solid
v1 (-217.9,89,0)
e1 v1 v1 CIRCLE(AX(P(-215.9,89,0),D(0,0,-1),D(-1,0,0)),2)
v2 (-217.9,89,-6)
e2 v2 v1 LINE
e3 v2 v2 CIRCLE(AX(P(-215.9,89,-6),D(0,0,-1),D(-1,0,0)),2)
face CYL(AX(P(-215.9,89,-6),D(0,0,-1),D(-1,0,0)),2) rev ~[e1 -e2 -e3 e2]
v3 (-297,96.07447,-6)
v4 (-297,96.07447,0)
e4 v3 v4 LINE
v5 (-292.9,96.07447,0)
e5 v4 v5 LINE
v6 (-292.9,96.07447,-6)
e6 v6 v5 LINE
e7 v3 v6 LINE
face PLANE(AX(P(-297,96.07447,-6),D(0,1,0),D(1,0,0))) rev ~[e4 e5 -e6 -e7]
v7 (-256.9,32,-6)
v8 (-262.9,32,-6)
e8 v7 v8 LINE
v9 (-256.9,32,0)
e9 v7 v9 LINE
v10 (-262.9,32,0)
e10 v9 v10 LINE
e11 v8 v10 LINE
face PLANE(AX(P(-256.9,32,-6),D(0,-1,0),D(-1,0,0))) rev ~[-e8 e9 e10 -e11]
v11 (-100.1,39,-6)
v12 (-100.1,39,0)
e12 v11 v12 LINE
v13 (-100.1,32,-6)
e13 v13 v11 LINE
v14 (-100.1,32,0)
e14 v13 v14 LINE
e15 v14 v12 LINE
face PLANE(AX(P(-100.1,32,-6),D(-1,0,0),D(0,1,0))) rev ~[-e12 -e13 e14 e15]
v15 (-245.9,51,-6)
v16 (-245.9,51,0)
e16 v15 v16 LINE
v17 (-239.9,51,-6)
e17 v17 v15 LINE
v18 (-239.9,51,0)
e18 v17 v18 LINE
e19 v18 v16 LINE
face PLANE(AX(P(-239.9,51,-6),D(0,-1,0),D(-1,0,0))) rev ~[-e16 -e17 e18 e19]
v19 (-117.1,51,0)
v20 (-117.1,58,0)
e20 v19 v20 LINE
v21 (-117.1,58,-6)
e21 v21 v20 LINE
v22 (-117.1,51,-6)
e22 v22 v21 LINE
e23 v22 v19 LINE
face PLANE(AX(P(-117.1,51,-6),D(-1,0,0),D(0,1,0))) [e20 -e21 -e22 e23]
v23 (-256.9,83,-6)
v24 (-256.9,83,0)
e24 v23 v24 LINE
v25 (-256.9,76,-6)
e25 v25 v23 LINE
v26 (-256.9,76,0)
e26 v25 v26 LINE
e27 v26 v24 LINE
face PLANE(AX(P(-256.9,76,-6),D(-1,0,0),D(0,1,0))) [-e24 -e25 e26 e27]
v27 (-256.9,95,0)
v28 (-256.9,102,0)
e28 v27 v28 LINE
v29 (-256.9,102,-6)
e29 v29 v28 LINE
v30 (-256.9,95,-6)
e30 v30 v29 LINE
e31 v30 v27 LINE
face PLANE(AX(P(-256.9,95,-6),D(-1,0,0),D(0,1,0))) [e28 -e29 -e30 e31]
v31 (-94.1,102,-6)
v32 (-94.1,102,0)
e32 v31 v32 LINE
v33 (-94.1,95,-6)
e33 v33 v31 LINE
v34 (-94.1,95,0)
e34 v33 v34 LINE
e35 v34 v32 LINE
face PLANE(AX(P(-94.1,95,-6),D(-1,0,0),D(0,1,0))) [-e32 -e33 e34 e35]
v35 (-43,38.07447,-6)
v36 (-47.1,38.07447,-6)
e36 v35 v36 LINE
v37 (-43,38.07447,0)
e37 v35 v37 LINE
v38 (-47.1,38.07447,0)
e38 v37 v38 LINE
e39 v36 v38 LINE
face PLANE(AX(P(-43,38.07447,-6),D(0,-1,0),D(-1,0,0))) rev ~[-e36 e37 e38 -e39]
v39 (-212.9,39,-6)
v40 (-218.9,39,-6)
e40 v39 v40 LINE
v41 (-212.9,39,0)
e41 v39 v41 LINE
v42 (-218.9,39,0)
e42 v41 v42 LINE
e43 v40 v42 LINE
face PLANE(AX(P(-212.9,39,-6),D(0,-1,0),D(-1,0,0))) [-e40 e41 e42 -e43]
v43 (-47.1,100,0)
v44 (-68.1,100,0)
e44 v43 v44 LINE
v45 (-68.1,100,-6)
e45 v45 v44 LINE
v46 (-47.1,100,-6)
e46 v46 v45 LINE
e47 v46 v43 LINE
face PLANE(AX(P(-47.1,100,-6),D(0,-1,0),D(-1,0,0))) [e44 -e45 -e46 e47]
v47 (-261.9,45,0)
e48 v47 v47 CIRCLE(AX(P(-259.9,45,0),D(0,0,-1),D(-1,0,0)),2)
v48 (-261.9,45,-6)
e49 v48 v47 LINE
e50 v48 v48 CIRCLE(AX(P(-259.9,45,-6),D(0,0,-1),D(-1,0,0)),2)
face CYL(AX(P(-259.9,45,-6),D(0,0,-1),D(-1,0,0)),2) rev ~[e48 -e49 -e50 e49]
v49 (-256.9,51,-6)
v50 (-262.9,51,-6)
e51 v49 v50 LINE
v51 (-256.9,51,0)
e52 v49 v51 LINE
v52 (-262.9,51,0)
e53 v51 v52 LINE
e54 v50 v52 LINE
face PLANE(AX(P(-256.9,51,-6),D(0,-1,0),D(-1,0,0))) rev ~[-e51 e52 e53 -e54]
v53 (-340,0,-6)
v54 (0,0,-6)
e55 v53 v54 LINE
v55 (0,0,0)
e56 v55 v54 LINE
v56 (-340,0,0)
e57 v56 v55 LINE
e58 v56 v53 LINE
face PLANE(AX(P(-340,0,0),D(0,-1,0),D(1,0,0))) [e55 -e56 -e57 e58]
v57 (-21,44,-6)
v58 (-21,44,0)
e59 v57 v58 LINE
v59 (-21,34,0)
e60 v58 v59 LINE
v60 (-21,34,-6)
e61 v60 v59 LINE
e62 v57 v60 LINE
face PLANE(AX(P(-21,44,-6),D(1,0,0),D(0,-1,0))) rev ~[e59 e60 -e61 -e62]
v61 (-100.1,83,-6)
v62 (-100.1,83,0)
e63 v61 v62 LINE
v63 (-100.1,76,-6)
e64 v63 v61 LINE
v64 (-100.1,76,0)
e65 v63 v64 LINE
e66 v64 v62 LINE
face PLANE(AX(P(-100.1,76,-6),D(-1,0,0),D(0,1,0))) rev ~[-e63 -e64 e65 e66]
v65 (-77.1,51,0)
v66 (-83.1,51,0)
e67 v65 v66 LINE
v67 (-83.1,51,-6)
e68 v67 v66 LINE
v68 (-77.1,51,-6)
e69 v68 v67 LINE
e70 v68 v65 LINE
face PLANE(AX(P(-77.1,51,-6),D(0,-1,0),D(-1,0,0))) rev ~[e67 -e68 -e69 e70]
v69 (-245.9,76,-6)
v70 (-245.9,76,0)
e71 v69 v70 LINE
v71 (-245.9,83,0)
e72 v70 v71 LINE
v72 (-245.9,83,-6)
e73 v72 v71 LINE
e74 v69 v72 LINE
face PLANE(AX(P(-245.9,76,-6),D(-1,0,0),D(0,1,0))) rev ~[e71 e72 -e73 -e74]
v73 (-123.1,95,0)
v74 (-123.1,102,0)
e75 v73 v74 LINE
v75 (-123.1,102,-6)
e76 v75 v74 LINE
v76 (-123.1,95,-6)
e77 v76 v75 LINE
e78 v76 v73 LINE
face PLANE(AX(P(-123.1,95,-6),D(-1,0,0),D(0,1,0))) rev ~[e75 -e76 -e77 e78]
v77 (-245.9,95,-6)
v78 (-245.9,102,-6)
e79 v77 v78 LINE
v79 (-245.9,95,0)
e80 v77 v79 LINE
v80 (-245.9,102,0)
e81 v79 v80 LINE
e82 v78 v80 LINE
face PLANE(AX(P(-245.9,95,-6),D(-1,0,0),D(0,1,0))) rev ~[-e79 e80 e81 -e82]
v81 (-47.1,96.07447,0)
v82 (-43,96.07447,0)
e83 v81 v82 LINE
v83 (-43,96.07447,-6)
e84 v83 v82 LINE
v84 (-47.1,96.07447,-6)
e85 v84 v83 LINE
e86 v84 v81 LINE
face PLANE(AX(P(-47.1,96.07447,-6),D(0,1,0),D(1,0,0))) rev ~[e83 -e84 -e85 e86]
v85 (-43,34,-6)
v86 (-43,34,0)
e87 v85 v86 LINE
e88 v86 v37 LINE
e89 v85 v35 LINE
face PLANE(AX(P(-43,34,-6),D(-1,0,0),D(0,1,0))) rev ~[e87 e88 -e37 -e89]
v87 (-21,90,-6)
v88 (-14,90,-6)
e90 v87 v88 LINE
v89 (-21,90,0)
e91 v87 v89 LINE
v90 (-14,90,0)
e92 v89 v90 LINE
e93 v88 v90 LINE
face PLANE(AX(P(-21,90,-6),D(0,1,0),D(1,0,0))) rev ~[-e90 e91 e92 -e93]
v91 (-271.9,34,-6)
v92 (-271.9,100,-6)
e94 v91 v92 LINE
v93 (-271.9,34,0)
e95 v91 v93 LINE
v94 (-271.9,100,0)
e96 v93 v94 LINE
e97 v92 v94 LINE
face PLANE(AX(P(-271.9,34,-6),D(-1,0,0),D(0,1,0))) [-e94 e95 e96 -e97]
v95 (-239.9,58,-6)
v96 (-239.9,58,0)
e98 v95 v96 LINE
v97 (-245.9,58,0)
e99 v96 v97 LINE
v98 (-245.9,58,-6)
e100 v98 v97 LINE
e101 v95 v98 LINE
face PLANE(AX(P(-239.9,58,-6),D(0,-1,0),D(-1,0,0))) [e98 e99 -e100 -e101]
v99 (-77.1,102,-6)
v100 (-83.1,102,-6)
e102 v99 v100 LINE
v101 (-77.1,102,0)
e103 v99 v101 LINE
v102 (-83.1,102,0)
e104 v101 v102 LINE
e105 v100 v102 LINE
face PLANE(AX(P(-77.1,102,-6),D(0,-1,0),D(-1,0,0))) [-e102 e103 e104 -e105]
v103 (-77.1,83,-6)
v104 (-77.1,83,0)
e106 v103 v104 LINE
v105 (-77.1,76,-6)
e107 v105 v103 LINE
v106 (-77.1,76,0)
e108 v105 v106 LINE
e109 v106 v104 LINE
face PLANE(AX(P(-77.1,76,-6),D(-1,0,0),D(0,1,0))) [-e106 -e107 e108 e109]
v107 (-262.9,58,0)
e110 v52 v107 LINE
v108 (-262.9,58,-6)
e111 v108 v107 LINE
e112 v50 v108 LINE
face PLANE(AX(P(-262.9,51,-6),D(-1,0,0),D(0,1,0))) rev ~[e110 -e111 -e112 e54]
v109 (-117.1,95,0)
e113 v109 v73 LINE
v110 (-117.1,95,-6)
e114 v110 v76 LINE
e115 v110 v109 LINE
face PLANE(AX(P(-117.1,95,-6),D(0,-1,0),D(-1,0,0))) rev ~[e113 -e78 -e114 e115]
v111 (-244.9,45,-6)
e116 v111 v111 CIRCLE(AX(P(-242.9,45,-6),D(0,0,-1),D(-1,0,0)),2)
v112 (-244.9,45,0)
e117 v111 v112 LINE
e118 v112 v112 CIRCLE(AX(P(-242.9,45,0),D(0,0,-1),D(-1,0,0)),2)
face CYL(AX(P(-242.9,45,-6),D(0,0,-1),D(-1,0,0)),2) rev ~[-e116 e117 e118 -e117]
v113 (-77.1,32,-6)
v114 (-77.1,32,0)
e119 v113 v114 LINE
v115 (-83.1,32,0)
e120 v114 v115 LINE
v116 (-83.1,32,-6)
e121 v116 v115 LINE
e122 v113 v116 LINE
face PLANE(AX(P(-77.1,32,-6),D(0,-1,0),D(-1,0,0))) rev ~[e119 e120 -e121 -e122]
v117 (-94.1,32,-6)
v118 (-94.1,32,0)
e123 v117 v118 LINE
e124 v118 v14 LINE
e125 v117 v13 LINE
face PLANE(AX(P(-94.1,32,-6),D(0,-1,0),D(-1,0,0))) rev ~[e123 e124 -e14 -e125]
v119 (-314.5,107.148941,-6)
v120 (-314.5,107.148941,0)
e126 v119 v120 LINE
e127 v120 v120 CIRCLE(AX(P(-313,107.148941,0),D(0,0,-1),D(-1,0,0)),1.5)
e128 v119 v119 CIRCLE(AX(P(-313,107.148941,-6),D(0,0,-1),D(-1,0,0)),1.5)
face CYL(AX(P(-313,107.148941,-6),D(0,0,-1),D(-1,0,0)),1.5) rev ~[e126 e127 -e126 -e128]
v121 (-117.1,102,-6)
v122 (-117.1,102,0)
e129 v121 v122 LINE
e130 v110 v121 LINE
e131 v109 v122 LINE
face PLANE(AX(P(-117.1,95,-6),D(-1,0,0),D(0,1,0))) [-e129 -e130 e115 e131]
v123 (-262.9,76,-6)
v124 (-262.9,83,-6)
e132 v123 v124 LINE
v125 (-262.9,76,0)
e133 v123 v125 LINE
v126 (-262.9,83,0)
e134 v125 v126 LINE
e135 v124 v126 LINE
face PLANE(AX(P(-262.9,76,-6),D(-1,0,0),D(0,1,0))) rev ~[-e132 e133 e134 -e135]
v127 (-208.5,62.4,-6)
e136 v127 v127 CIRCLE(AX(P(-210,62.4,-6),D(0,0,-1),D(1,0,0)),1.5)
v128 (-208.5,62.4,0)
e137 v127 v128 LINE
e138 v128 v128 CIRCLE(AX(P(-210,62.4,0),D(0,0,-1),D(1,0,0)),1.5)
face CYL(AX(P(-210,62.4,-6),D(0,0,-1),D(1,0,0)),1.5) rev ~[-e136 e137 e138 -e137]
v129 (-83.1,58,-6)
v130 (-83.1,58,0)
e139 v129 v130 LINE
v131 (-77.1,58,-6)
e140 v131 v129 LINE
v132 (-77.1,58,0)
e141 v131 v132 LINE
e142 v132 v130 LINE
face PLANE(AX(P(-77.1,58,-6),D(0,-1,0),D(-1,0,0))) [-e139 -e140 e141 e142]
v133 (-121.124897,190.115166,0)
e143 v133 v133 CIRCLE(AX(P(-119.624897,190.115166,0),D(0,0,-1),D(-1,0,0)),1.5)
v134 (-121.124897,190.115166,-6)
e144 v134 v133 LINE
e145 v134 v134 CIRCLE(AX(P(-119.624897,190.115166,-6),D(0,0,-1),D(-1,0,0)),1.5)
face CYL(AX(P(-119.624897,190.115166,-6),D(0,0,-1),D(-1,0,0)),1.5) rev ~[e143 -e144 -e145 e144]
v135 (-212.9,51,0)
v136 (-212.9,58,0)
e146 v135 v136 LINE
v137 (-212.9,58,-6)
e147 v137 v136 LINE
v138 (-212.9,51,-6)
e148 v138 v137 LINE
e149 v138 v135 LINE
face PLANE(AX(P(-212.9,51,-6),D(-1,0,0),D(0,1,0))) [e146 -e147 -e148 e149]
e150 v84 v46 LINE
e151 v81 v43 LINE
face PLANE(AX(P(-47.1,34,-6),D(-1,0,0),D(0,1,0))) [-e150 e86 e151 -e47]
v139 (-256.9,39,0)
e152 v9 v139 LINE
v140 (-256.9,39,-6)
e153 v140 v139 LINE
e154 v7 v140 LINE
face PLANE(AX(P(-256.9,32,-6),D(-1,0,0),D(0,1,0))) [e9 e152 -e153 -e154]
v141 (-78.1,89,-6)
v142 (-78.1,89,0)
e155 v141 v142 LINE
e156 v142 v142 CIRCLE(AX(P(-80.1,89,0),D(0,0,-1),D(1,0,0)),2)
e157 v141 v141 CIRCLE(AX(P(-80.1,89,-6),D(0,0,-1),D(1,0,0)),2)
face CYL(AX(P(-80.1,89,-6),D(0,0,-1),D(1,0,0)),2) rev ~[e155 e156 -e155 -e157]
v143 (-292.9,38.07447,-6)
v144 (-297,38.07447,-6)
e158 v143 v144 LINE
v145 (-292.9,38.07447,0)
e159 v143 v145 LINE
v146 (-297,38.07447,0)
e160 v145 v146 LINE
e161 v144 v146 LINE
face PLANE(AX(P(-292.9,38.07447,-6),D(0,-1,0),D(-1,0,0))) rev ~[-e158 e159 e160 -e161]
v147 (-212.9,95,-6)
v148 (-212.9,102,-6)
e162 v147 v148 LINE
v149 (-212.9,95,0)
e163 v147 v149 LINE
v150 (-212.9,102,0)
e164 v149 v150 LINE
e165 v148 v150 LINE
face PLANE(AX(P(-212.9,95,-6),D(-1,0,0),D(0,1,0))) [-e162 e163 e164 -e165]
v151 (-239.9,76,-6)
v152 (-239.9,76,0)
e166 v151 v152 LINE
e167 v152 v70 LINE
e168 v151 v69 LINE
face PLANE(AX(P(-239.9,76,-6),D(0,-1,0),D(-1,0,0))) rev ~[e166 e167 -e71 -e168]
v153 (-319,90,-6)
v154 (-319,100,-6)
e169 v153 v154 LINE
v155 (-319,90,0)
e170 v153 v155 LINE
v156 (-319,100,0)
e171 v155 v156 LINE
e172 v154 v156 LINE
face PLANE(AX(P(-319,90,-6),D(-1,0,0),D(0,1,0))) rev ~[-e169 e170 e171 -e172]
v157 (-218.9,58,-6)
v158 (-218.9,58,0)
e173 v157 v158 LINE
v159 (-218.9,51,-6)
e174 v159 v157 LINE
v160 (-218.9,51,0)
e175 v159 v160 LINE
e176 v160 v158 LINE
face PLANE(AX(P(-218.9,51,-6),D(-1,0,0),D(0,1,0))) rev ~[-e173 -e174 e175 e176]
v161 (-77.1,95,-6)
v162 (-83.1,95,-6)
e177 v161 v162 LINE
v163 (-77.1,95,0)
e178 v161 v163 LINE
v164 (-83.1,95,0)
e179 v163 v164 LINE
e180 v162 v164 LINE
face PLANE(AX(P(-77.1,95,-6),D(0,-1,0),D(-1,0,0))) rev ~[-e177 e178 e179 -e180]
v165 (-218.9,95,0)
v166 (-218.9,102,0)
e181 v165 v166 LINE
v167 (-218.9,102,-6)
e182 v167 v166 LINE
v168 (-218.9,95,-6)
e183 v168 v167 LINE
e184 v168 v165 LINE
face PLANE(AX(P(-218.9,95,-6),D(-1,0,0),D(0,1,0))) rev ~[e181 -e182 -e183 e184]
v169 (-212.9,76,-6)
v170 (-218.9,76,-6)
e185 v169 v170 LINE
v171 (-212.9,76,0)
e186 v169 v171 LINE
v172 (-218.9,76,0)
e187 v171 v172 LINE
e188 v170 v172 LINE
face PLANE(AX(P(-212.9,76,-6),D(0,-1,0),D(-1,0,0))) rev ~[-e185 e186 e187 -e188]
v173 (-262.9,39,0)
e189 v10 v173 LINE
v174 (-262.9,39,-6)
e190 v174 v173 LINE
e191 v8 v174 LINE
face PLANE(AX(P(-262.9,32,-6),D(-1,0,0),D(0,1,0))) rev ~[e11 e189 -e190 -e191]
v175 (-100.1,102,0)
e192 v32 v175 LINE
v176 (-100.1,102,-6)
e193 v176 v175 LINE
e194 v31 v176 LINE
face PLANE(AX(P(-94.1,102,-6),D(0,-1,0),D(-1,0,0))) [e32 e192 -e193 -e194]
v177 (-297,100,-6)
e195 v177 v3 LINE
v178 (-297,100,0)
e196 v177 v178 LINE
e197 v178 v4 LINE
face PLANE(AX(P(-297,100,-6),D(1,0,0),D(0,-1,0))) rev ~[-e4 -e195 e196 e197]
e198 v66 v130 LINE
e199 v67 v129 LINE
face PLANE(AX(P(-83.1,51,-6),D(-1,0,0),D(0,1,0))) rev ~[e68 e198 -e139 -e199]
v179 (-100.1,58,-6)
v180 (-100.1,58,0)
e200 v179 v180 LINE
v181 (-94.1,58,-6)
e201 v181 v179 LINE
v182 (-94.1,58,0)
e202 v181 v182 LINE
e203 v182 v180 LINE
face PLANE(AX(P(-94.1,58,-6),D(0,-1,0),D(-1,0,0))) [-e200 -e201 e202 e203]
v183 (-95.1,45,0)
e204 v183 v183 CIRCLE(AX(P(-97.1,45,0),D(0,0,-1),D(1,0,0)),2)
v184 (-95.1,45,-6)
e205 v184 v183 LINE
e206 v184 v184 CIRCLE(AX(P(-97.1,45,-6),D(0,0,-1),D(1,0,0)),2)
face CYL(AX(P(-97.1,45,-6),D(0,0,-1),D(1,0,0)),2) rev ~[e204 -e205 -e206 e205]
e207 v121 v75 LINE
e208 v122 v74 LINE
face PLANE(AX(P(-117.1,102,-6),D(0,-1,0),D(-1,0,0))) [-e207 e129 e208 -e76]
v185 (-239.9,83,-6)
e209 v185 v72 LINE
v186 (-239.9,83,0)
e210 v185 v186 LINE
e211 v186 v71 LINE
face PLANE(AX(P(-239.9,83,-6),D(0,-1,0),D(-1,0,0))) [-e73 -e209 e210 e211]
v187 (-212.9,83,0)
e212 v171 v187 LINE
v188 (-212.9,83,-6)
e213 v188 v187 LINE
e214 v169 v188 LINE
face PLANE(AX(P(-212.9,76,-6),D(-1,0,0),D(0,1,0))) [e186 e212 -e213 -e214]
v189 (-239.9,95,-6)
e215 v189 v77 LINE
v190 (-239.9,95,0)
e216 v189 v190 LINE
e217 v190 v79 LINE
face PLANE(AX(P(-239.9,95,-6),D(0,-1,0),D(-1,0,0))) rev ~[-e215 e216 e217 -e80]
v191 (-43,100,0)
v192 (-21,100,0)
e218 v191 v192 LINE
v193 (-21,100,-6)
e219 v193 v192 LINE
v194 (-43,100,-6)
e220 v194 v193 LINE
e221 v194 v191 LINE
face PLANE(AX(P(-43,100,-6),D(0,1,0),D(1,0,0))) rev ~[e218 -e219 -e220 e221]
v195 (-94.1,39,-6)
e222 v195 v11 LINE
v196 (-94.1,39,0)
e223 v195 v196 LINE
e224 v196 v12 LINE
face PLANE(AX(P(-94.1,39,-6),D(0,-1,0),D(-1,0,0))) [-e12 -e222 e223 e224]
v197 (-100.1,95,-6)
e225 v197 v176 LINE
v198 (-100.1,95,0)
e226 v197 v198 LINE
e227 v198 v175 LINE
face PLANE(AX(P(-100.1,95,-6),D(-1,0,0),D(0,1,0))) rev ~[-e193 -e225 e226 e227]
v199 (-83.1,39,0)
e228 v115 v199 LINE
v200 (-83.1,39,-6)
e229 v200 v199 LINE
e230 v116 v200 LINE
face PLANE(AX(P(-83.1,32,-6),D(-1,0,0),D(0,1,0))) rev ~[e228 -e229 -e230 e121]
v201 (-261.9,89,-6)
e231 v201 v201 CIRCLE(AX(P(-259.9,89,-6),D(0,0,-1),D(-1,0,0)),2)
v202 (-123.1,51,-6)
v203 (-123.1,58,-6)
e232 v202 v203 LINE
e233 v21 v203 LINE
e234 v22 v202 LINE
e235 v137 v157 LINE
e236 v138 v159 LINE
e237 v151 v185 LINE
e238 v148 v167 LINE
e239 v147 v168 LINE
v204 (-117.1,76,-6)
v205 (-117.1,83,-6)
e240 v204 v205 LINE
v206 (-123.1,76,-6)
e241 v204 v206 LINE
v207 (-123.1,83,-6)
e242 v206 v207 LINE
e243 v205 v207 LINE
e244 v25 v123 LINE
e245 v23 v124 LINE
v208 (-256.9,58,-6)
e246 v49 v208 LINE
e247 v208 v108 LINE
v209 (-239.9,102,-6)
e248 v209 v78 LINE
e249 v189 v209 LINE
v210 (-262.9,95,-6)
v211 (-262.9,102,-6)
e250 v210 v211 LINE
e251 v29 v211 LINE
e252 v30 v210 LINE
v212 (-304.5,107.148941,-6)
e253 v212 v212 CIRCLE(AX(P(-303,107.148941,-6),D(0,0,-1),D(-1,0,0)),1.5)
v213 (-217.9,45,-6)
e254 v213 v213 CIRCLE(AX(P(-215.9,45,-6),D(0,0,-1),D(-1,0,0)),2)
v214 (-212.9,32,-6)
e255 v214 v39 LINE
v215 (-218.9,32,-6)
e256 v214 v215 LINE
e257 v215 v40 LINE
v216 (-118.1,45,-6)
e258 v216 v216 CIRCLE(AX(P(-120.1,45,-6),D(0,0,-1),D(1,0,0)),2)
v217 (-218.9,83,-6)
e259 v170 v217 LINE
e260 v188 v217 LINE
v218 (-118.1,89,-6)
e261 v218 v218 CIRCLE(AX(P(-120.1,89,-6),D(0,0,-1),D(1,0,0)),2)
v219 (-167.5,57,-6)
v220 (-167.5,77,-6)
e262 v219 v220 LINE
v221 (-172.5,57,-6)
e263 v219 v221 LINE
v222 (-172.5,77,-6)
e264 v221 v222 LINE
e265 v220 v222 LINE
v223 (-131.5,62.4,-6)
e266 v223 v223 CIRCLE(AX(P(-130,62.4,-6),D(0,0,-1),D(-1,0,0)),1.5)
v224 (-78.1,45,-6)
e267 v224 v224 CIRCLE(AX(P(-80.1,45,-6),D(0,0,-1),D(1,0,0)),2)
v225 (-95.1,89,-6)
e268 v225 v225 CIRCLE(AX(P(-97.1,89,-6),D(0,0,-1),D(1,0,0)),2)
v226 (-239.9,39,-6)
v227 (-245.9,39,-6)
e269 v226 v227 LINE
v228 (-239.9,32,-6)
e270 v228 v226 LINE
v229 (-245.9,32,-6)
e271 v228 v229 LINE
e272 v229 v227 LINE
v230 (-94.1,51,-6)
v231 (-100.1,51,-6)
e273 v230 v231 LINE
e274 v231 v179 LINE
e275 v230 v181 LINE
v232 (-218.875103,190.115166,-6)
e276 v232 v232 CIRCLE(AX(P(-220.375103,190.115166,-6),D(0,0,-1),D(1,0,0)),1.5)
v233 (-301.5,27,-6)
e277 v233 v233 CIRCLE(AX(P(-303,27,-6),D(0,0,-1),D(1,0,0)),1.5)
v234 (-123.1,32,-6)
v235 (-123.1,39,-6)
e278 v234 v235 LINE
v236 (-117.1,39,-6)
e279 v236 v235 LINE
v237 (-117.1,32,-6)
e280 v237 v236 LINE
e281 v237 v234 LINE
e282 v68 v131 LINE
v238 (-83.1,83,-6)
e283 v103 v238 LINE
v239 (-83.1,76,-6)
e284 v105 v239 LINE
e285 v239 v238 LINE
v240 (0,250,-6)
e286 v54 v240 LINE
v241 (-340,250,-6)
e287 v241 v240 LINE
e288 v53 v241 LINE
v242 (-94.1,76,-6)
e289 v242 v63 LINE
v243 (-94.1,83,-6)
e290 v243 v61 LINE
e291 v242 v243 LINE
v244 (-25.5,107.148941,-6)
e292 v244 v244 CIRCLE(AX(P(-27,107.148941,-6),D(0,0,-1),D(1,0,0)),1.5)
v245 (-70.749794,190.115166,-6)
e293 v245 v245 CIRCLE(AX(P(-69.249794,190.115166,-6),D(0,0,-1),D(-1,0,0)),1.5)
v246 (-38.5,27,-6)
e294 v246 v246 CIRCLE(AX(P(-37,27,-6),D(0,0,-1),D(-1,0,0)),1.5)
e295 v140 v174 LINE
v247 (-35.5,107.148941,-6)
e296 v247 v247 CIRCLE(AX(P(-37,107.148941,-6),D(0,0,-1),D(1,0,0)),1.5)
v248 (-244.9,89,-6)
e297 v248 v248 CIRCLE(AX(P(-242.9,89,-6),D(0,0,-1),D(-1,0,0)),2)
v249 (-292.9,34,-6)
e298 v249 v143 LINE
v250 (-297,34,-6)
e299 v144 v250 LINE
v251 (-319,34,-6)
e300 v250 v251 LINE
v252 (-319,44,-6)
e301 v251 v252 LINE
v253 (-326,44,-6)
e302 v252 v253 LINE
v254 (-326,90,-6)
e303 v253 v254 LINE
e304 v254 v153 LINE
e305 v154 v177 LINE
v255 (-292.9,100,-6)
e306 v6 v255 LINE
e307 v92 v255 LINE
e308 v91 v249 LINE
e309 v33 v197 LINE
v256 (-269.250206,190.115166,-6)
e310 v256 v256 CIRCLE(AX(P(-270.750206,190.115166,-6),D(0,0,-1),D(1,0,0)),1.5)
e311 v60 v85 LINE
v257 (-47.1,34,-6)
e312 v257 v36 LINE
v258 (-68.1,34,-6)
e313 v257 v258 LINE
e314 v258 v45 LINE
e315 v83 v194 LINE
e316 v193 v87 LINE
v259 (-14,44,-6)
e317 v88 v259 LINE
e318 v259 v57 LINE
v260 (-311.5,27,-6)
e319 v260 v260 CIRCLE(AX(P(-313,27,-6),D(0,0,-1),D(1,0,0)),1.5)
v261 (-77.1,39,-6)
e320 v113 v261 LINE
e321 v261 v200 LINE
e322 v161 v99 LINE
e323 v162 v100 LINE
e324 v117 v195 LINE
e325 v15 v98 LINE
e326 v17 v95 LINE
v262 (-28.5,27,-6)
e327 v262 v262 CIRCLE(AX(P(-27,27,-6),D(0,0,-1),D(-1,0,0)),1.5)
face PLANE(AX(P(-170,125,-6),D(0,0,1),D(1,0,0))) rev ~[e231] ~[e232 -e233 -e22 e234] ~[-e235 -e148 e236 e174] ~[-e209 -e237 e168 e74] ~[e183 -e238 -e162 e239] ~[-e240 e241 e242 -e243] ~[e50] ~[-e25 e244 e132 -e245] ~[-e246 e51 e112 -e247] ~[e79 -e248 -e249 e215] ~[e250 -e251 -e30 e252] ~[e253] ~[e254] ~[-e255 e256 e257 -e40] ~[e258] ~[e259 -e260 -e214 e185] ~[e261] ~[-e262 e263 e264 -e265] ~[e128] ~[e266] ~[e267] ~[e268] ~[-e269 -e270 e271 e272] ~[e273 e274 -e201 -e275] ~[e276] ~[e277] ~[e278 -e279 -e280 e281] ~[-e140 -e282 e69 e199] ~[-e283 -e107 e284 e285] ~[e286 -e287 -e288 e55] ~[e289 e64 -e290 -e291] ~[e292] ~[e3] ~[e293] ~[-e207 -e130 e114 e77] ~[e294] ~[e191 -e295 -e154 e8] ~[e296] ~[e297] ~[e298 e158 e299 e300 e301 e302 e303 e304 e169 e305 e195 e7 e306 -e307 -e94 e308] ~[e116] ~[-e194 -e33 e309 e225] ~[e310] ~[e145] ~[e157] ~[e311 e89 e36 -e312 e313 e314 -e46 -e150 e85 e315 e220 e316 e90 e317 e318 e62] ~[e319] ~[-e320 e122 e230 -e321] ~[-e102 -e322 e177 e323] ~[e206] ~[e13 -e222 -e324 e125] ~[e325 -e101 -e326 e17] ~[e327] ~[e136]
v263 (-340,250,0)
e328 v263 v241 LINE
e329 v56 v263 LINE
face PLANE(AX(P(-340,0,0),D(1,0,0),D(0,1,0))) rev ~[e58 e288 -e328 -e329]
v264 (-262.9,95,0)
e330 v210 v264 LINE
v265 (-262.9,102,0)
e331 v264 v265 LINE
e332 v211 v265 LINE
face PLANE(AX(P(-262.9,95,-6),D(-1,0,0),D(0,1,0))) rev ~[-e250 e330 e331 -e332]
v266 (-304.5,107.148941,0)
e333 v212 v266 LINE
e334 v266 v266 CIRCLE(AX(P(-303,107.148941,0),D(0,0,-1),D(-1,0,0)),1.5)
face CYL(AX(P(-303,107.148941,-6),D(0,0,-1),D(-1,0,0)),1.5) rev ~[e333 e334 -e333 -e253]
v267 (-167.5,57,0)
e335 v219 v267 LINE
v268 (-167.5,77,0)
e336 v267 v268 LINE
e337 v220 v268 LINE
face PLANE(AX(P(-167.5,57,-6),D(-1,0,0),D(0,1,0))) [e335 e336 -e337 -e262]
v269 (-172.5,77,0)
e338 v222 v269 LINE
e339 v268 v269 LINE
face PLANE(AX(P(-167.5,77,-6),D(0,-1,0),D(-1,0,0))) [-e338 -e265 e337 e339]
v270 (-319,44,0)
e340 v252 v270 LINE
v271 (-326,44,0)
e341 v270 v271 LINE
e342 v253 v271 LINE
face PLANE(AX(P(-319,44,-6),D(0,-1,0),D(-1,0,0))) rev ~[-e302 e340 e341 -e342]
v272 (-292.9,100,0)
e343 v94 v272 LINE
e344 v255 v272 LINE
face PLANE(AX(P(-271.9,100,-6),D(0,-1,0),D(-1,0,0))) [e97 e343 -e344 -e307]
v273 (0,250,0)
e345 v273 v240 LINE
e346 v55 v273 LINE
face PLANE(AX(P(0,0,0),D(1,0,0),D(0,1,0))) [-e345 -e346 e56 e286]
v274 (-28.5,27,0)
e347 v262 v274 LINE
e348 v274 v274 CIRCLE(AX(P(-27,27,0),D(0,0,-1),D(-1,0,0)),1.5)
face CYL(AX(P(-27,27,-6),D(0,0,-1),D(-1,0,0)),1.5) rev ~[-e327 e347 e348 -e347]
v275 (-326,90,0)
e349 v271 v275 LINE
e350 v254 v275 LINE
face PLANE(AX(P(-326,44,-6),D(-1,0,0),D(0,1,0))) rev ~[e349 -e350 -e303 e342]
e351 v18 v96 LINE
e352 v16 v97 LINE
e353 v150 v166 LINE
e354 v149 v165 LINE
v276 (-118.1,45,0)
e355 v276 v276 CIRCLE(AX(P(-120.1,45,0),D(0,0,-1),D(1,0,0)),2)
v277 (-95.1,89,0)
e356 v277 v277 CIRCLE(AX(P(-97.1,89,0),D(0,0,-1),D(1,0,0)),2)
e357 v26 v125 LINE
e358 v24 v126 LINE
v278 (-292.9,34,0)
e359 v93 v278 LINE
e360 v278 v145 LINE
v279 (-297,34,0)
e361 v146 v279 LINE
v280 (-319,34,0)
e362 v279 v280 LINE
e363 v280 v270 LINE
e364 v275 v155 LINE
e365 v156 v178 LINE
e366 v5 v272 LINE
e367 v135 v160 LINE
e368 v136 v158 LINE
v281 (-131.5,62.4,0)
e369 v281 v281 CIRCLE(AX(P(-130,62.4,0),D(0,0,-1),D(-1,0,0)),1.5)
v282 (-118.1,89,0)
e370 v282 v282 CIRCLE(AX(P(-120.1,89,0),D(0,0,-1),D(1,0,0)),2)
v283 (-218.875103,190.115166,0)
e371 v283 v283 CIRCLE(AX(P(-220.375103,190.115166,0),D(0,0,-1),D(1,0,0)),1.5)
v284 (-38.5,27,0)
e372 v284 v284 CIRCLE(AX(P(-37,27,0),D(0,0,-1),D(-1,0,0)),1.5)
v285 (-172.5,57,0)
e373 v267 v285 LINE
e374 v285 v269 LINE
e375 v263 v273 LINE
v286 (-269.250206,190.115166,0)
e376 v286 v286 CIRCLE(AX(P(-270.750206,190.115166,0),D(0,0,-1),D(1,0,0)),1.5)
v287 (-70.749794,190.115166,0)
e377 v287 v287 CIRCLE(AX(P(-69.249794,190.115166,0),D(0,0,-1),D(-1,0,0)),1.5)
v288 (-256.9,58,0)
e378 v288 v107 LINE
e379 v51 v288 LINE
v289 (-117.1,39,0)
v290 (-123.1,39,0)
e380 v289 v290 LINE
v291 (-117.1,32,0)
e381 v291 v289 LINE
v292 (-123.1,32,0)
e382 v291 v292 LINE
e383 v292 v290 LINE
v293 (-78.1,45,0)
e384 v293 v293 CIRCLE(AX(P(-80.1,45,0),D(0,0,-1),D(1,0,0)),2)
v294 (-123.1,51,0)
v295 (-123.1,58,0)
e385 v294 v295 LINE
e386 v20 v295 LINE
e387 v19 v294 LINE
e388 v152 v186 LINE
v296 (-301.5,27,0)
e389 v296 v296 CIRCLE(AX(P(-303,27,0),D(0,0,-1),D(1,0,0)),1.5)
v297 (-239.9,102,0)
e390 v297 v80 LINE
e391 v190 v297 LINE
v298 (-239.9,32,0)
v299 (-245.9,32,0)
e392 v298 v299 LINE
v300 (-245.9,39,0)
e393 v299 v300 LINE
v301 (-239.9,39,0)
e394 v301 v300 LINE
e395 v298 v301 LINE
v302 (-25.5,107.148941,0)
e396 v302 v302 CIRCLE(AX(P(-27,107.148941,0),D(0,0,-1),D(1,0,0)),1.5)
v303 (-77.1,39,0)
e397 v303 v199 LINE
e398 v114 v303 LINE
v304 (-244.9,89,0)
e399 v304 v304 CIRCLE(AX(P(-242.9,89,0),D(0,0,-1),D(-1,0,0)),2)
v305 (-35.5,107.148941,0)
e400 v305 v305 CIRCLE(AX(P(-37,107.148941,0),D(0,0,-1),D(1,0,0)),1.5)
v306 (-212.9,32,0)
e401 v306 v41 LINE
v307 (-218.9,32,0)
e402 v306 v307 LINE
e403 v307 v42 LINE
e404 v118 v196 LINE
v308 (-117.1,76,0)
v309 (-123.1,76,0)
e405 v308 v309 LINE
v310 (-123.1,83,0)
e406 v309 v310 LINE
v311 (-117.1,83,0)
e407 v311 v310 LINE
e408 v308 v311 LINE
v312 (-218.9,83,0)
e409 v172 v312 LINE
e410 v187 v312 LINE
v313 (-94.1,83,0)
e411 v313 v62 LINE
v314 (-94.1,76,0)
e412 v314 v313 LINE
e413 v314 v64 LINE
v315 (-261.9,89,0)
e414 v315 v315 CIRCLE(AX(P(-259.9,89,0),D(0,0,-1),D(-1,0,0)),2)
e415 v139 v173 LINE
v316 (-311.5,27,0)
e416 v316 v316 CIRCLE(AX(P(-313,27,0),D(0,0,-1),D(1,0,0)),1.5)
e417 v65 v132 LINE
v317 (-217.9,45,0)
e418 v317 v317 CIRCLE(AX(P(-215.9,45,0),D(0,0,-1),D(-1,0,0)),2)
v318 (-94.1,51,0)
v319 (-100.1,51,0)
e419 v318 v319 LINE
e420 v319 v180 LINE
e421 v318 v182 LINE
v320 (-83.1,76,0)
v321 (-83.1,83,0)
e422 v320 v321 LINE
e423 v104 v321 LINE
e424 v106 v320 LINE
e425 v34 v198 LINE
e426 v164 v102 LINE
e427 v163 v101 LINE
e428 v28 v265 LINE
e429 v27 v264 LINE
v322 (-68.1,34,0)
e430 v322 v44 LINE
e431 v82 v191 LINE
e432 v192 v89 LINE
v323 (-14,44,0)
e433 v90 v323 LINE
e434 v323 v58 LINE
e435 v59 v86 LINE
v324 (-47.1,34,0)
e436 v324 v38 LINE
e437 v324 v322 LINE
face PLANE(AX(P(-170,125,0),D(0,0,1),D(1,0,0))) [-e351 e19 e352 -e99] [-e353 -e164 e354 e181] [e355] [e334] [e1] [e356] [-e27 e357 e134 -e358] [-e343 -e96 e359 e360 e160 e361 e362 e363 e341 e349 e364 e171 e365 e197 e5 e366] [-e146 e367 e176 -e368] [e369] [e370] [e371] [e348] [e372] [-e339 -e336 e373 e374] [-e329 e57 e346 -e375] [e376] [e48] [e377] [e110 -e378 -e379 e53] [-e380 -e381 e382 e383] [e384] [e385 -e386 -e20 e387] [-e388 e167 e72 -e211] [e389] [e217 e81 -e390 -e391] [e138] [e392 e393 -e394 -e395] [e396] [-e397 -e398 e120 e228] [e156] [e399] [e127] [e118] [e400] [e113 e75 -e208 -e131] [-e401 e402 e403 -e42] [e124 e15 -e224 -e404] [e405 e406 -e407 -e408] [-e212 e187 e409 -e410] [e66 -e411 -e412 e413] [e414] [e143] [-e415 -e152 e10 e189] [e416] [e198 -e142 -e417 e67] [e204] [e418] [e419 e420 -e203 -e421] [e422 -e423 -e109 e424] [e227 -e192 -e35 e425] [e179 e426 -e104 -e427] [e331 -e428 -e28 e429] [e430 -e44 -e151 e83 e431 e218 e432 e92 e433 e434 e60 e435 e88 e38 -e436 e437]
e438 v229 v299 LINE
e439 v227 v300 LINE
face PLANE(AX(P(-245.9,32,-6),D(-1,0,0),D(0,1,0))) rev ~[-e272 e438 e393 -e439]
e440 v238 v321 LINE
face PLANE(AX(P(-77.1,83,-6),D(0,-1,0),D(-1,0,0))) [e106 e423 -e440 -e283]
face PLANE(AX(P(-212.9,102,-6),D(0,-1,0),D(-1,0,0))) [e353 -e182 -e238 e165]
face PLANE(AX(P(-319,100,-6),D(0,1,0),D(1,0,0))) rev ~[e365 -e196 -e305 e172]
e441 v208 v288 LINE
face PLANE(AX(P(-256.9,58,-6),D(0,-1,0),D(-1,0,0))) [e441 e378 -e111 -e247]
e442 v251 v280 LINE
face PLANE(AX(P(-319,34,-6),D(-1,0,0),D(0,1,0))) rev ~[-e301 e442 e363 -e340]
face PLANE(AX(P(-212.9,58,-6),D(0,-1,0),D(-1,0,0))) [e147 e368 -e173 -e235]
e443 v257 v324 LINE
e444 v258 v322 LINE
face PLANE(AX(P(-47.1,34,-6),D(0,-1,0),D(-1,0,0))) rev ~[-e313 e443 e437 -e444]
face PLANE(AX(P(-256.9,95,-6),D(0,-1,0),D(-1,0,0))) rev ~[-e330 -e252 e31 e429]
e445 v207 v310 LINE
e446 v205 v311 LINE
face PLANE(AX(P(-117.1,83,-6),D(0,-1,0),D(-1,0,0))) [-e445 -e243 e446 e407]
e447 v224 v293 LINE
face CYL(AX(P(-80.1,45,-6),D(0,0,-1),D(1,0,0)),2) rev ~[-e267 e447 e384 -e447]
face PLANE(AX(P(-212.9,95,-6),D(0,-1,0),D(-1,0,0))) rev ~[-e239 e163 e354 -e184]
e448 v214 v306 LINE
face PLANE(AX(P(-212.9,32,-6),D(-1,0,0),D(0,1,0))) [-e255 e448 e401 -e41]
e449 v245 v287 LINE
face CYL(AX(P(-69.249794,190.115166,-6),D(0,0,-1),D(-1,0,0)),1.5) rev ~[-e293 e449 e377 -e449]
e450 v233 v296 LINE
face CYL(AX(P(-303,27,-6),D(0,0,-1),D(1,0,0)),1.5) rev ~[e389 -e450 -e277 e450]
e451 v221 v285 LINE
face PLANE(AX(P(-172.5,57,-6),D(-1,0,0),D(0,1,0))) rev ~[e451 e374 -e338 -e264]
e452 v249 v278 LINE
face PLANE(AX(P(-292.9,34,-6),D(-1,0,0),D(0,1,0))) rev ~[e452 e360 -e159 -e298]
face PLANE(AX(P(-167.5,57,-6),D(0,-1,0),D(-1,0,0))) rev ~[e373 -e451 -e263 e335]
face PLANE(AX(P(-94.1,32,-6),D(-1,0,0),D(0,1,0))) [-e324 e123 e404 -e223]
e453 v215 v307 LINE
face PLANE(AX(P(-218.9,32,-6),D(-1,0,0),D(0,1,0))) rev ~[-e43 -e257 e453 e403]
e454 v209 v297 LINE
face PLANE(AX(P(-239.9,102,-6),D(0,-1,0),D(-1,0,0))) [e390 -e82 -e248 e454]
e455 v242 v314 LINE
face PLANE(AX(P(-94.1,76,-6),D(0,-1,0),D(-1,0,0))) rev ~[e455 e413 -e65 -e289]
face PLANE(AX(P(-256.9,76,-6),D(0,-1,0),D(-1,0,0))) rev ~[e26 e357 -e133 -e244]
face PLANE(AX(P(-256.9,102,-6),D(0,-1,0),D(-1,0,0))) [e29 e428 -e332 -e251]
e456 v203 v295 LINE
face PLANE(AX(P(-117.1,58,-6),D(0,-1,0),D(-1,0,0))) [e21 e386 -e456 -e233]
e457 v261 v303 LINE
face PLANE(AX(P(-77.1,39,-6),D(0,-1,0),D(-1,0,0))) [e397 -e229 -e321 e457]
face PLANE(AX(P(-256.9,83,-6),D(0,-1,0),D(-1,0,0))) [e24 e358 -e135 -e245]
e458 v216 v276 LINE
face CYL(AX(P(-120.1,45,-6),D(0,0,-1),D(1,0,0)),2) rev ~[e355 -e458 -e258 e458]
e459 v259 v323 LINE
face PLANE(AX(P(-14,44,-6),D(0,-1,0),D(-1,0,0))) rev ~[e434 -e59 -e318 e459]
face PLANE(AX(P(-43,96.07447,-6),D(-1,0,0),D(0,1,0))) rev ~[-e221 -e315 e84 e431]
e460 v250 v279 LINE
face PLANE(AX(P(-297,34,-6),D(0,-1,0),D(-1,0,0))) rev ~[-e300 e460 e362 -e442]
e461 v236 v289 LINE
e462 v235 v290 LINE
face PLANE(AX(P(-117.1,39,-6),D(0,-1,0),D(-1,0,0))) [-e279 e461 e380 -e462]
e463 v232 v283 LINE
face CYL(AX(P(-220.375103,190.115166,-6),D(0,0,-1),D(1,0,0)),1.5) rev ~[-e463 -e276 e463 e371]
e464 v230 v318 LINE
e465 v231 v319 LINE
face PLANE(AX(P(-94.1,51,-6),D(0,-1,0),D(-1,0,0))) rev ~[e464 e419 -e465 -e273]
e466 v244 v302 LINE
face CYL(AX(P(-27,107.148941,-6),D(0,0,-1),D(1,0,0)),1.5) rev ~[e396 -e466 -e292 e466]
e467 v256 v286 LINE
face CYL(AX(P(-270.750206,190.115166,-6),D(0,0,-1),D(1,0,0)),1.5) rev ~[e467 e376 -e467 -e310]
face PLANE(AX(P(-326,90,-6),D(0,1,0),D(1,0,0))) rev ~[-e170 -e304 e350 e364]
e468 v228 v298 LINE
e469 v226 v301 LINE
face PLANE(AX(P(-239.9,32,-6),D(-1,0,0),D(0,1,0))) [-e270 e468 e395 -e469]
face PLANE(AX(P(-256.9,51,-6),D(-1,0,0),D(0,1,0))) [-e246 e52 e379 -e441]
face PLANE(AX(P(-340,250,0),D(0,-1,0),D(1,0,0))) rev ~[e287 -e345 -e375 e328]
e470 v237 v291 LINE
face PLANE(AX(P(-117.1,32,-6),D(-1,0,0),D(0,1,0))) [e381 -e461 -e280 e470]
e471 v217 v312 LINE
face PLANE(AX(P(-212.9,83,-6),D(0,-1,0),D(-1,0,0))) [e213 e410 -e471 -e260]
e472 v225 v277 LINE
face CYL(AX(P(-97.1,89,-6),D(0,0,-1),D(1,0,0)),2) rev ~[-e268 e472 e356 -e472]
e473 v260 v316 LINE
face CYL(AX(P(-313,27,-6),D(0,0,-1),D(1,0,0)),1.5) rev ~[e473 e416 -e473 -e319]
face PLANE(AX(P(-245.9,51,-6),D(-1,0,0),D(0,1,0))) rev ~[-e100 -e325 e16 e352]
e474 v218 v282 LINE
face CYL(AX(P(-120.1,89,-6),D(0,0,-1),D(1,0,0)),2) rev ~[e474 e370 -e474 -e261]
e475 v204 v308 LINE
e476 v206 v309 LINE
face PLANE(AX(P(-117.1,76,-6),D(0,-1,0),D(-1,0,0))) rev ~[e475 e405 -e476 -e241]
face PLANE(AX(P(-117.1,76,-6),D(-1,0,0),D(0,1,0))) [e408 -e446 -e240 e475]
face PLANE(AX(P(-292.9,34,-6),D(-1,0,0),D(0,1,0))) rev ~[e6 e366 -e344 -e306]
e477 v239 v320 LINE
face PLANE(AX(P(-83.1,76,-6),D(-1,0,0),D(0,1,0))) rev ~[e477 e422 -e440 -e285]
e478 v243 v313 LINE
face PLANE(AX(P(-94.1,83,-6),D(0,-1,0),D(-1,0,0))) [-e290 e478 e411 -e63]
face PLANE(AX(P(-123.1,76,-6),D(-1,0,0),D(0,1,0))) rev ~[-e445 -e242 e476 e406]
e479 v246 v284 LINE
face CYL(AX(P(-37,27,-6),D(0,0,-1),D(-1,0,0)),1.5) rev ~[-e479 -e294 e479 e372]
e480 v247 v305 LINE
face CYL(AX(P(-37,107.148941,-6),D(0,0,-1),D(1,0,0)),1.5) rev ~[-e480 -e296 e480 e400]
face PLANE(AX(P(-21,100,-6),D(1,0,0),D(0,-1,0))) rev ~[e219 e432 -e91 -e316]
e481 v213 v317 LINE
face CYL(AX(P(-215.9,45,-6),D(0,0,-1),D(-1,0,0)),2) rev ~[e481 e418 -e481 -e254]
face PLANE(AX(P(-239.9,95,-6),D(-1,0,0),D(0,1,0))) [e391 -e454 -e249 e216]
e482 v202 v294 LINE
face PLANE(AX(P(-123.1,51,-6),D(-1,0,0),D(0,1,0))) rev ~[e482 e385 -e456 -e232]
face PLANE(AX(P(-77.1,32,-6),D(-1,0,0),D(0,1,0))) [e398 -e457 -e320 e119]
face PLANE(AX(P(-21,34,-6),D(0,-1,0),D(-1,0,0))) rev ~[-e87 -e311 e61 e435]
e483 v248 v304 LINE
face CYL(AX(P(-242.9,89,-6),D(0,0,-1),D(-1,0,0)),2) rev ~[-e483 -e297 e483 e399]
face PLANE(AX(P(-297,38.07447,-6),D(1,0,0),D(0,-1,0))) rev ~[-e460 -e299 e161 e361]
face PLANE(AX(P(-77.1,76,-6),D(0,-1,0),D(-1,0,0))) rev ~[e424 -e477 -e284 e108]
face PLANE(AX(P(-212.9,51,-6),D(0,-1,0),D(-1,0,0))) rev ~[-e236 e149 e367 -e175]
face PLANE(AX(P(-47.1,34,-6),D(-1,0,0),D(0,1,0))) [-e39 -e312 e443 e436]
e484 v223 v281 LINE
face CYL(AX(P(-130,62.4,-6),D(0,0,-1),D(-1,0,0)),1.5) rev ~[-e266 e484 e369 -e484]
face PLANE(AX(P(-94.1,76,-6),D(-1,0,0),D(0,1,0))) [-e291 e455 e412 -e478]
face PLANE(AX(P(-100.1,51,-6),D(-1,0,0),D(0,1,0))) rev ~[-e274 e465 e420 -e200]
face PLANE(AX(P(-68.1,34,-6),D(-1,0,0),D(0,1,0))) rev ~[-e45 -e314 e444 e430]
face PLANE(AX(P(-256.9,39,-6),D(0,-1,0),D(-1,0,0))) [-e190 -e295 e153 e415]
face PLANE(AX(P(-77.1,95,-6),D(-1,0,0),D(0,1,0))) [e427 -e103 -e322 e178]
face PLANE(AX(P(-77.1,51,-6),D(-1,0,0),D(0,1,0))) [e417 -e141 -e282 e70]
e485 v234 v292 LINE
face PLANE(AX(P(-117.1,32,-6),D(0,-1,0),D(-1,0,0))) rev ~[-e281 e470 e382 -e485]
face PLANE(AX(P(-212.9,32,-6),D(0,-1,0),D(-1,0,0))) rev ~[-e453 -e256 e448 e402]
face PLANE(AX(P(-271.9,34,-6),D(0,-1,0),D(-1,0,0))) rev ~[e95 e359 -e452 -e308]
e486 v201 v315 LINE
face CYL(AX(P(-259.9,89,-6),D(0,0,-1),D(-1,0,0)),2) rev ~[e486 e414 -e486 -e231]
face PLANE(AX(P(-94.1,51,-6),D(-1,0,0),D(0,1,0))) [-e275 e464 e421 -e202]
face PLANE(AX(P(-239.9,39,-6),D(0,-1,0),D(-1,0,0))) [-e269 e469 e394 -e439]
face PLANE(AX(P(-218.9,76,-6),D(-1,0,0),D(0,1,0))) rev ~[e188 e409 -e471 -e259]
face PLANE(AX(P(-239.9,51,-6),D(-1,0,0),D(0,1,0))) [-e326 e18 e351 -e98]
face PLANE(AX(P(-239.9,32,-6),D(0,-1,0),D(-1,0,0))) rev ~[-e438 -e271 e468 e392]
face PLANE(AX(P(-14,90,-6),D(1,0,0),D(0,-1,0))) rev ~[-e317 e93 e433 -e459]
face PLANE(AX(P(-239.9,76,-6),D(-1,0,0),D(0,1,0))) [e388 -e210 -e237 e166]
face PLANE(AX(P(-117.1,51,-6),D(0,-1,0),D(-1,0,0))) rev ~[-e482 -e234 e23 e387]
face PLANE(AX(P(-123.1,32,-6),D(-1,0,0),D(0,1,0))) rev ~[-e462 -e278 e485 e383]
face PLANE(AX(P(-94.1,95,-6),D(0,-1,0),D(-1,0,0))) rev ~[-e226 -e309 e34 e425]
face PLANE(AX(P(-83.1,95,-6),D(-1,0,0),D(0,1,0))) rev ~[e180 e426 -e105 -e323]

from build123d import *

# Parameters (mm, degrees)
ESQUISSE1_W             = 340
ESQUISSE1_H             = 250
BOSS_EXTRU_1_DEPTH      = 6
ESQUISSE10_R            = 2
ESQUISSE10_W            = 6
ESQUISSE10_H            = 7
ESQUISSE10_W_2          = 5
ESQUISSE10_H_2          = 20
ESQUISSE10_W_3          = 21
ESQUISSE10_H_3          = 66
ENL_V_MAT_EXTRU_5_DEPTH = 6
ESQUISSE13_R            = 1.5
ENL_V_MAT_EXTRU_6_DEPTH = 6


with BuildPart() as part:
    # Esquisse1 → Boss.-Extru.1 (new body)
    with BuildSketch(Plane.XY):
        with Locations((-170, 125)):
            Rectangle(ESQUISSE1_W, ESQUISSE1_H)
    extrude(amount=-BOSS_EXTRU_1_DEPTH)

    # Esquisse10 → Enlèv. mat.-Extru.5 (cut)
    with BuildSketch(Plane(origin=(0, 0, -6), x_dir=(-1, 0, 0), z_dir=(0, 0, -1))):
        with Locations((259.9, 45)):
            Circle(ESQUISSE10_R)
        with Locations((259.9, 89)):
            Circle(ESQUISSE10_R)
        with Locations((242.9, 45)):
            Circle(ESQUISSE10_R)
        with Locations((242.9, 89)):
            Circle(ESQUISSE10_R)
        with Locations((215.9, 45)):
            Circle(ESQUISSE10_R)
        with Locations((215.9, 89)):
            Circle(ESQUISSE10_R)
        with Locations(Location((97.1, 89, 0), (0, 0, 180))):
            Circle(ESQUISSE10_R)
        with Locations(Location((97.1, 45, 0), (0, 0, 180))):
            Circle(ESQUISSE10_R)
        with Locations(Location((80.1, 89, 0), (0, 0, 180))):
            Circle(ESQUISSE10_R)
        with Locations(Location((120.1, 89, 0), (0, 0, 180))):
            Circle(ESQUISSE10_R)
        with Locations(Location((120.1, 45, 0), (0, 0, 180))):
            Circle(ESQUISSE10_R)
        with Locations(Location((80.1, 45, 0), (0, 0, 180))):
            Circle(ESQUISSE10_R)
        with Locations((259.9, 35.5)):
            Rectangle(ESQUISSE10_W, ESQUISSE10_H)
        with Locations((259.9, 54.5)):
            Rectangle(ESQUISSE10_W, ESQUISSE10_H)
        with Locations((259.9, 79.5)):
            Rectangle(ESQUISSE10_W, ESQUISSE10_H)
        with Locations((259.9, 98.5)):
            Rectangle(ESQUISSE10_W, ESQUISSE10_H)
        with Locations((242.9, 35.5)):
            Rectangle(ESQUISSE10_W, ESQUISSE10_H)
        with Locations((170, 67)):
            Rectangle(ESQUISSE10_W_2, ESQUISSE10_H_2)
        with Locations((242.9, 54.5)):
            Rectangle(ESQUISSE10_W, ESQUISSE10_H)
        with Locations((242.9, 79.5)):
            Rectangle(ESQUISSE10_W, ESQUISSE10_H)
        with Locations((242.9, 98.5)):
            Rectangle(ESQUISSE10_W, ESQUISSE10_H)
        with Locations((215.9, 35.5)):
            Rectangle(ESQUISSE10_W, ESQUISSE10_H)
        with Locations((215.9, 54.5)):
            Rectangle(ESQUISSE10_W, ESQUISSE10_H)
        with Locations((215.9, 79.5)):
            Rectangle(ESQUISSE10_W, ESQUISSE10_H)
        with Locations((215.9, 98.5)):
            Rectangle(ESQUISSE10_W, ESQUISSE10_H)
        with Locations((97.1, 98.5)):
            Rectangle(ESQUISSE10_W, ESQUISSE10_H)
        with Locations((97.1, 79.5)):
            Rectangle(ESQUISSE10_W, ESQUISSE10_H)
        with Locations((97.1, 54.5)):
            Rectangle(ESQUISSE10_W, ESQUISSE10_H)
        with Locations((97.1, 35.5)):
            Rectangle(ESQUISSE10_W, ESQUISSE10_H)
        with Locations((80.1, 98.5)):
            Rectangle(ESQUISSE10_W, ESQUISSE10_H)
        with Locations((80.1, 79.5)):
            Rectangle(ESQUISSE10_W, ESQUISSE10_H)
        with Locations((120.1, 98.5)):
            Rectangle(ESQUISSE10_W, ESQUISSE10_H)
        with Locations((120.1, 79.5)):
            Rectangle(ESQUISSE10_W, ESQUISSE10_H)
        with Locations((80.1, 54.5)):
            Rectangle(ESQUISSE10_W, ESQUISSE10_H)
        with Locations((120.1, 54.5)):
            Rectangle(ESQUISSE10_W, ESQUISSE10_H)
        with Locations((120.1, 35.5)):
            Rectangle(ESQUISSE10_W, ESQUISSE10_H)
        with Locations((80.1, 35.5)):
            Rectangle(ESQUISSE10_W, ESQUISSE10_H)
        with Locations((282.4, 67)):
            Rectangle(ESQUISSE10_W_3, ESQUISSE10_H_3)
        with Locations((57.6, 67)):
            Rectangle(ESQUISSE10_W_3, ESQUISSE10_H_3)
    extrude(amount=-ENL_V_MAT_EXTRU_5_DEPTH, mode=Mode.SUBTRACT)

    # Esquisse13 → Enlèv. mat.-Extru.6 (cut)
    with BuildSketch(Plane(origin=(0, 0, -6), x_dir=(-1, 0, 0), z_dir=(0, 0, -1))):
        with Locations((69.249793531, 190.11516604)):
            Circle(ESQUISSE13_R)
        with Locations((119.624896765, 190.11516604)):
            Circle(ESQUISSE13_R)
        with Locations(Location((220.375103235, 190.11516604, 0), (0, 0, 180))):
            Circle(ESQUISSE13_R)
        with Locations(Location((270.750206469, 190.11516604, 0), (0, 0, 180))):
            Circle(ESQUISSE13_R)
        with Locations((27, 27)):
            Circle(ESQUISSE13_R)
        with Locations((130, 62.4)):
            Circle(ESQUISSE13_R)
        with Locations(Location((210, 62.4, 0), (0, 0, 180))):
            Circle(ESQUISSE13_R)
        with Locations((37, 27)):
            Circle(ESQUISSE13_R)
        with Locations(Location((37, 107.148940914, 0), (0, 0, 180))):
            Circle(ESQUISSE13_R)
        with Locations(Location((27, 107.148940914, 0), (0, 0, 180))):
            Circle(ESQUISSE13_R)
        with Locations(Location((303, 27, 0), (0, 0, 180))):
            Circle(ESQUISSE13_R)
        with Locations(Location((313, 27, 0), (0, 0, 180))):
            Circle(ESQUISSE13_R)
        with Locations((313, 107.148940914)):
            Circle(ESQUISSE13_R)
        with Locations((303, 107.148940914)):
            Circle(ESQUISSE13_R)
        Polygon((43, 100), (21, 100), (21, 90), (14, 90), (14, 44), (21, 44), (21, 34), (43, 34), (43, 38.074470457), (47.1, 38.074470457), (47.1, 96.074470457), (43, 96.074470457), align=None)
        Polygon((297, 38.074470457), (297, 34), (319, 34), (319, 44), (326, 44), (326, 90), (319, 90), (319, 100), (297, 100), (297, 96.074470457), (292.9, 96.074470457), (292.9, 38.074470457), align=None)
    extrude(amount=-ENL_V_MAT_EXTRU_6_DEPTH, mode=Mode.SUBTRACT)


solid = part.part
